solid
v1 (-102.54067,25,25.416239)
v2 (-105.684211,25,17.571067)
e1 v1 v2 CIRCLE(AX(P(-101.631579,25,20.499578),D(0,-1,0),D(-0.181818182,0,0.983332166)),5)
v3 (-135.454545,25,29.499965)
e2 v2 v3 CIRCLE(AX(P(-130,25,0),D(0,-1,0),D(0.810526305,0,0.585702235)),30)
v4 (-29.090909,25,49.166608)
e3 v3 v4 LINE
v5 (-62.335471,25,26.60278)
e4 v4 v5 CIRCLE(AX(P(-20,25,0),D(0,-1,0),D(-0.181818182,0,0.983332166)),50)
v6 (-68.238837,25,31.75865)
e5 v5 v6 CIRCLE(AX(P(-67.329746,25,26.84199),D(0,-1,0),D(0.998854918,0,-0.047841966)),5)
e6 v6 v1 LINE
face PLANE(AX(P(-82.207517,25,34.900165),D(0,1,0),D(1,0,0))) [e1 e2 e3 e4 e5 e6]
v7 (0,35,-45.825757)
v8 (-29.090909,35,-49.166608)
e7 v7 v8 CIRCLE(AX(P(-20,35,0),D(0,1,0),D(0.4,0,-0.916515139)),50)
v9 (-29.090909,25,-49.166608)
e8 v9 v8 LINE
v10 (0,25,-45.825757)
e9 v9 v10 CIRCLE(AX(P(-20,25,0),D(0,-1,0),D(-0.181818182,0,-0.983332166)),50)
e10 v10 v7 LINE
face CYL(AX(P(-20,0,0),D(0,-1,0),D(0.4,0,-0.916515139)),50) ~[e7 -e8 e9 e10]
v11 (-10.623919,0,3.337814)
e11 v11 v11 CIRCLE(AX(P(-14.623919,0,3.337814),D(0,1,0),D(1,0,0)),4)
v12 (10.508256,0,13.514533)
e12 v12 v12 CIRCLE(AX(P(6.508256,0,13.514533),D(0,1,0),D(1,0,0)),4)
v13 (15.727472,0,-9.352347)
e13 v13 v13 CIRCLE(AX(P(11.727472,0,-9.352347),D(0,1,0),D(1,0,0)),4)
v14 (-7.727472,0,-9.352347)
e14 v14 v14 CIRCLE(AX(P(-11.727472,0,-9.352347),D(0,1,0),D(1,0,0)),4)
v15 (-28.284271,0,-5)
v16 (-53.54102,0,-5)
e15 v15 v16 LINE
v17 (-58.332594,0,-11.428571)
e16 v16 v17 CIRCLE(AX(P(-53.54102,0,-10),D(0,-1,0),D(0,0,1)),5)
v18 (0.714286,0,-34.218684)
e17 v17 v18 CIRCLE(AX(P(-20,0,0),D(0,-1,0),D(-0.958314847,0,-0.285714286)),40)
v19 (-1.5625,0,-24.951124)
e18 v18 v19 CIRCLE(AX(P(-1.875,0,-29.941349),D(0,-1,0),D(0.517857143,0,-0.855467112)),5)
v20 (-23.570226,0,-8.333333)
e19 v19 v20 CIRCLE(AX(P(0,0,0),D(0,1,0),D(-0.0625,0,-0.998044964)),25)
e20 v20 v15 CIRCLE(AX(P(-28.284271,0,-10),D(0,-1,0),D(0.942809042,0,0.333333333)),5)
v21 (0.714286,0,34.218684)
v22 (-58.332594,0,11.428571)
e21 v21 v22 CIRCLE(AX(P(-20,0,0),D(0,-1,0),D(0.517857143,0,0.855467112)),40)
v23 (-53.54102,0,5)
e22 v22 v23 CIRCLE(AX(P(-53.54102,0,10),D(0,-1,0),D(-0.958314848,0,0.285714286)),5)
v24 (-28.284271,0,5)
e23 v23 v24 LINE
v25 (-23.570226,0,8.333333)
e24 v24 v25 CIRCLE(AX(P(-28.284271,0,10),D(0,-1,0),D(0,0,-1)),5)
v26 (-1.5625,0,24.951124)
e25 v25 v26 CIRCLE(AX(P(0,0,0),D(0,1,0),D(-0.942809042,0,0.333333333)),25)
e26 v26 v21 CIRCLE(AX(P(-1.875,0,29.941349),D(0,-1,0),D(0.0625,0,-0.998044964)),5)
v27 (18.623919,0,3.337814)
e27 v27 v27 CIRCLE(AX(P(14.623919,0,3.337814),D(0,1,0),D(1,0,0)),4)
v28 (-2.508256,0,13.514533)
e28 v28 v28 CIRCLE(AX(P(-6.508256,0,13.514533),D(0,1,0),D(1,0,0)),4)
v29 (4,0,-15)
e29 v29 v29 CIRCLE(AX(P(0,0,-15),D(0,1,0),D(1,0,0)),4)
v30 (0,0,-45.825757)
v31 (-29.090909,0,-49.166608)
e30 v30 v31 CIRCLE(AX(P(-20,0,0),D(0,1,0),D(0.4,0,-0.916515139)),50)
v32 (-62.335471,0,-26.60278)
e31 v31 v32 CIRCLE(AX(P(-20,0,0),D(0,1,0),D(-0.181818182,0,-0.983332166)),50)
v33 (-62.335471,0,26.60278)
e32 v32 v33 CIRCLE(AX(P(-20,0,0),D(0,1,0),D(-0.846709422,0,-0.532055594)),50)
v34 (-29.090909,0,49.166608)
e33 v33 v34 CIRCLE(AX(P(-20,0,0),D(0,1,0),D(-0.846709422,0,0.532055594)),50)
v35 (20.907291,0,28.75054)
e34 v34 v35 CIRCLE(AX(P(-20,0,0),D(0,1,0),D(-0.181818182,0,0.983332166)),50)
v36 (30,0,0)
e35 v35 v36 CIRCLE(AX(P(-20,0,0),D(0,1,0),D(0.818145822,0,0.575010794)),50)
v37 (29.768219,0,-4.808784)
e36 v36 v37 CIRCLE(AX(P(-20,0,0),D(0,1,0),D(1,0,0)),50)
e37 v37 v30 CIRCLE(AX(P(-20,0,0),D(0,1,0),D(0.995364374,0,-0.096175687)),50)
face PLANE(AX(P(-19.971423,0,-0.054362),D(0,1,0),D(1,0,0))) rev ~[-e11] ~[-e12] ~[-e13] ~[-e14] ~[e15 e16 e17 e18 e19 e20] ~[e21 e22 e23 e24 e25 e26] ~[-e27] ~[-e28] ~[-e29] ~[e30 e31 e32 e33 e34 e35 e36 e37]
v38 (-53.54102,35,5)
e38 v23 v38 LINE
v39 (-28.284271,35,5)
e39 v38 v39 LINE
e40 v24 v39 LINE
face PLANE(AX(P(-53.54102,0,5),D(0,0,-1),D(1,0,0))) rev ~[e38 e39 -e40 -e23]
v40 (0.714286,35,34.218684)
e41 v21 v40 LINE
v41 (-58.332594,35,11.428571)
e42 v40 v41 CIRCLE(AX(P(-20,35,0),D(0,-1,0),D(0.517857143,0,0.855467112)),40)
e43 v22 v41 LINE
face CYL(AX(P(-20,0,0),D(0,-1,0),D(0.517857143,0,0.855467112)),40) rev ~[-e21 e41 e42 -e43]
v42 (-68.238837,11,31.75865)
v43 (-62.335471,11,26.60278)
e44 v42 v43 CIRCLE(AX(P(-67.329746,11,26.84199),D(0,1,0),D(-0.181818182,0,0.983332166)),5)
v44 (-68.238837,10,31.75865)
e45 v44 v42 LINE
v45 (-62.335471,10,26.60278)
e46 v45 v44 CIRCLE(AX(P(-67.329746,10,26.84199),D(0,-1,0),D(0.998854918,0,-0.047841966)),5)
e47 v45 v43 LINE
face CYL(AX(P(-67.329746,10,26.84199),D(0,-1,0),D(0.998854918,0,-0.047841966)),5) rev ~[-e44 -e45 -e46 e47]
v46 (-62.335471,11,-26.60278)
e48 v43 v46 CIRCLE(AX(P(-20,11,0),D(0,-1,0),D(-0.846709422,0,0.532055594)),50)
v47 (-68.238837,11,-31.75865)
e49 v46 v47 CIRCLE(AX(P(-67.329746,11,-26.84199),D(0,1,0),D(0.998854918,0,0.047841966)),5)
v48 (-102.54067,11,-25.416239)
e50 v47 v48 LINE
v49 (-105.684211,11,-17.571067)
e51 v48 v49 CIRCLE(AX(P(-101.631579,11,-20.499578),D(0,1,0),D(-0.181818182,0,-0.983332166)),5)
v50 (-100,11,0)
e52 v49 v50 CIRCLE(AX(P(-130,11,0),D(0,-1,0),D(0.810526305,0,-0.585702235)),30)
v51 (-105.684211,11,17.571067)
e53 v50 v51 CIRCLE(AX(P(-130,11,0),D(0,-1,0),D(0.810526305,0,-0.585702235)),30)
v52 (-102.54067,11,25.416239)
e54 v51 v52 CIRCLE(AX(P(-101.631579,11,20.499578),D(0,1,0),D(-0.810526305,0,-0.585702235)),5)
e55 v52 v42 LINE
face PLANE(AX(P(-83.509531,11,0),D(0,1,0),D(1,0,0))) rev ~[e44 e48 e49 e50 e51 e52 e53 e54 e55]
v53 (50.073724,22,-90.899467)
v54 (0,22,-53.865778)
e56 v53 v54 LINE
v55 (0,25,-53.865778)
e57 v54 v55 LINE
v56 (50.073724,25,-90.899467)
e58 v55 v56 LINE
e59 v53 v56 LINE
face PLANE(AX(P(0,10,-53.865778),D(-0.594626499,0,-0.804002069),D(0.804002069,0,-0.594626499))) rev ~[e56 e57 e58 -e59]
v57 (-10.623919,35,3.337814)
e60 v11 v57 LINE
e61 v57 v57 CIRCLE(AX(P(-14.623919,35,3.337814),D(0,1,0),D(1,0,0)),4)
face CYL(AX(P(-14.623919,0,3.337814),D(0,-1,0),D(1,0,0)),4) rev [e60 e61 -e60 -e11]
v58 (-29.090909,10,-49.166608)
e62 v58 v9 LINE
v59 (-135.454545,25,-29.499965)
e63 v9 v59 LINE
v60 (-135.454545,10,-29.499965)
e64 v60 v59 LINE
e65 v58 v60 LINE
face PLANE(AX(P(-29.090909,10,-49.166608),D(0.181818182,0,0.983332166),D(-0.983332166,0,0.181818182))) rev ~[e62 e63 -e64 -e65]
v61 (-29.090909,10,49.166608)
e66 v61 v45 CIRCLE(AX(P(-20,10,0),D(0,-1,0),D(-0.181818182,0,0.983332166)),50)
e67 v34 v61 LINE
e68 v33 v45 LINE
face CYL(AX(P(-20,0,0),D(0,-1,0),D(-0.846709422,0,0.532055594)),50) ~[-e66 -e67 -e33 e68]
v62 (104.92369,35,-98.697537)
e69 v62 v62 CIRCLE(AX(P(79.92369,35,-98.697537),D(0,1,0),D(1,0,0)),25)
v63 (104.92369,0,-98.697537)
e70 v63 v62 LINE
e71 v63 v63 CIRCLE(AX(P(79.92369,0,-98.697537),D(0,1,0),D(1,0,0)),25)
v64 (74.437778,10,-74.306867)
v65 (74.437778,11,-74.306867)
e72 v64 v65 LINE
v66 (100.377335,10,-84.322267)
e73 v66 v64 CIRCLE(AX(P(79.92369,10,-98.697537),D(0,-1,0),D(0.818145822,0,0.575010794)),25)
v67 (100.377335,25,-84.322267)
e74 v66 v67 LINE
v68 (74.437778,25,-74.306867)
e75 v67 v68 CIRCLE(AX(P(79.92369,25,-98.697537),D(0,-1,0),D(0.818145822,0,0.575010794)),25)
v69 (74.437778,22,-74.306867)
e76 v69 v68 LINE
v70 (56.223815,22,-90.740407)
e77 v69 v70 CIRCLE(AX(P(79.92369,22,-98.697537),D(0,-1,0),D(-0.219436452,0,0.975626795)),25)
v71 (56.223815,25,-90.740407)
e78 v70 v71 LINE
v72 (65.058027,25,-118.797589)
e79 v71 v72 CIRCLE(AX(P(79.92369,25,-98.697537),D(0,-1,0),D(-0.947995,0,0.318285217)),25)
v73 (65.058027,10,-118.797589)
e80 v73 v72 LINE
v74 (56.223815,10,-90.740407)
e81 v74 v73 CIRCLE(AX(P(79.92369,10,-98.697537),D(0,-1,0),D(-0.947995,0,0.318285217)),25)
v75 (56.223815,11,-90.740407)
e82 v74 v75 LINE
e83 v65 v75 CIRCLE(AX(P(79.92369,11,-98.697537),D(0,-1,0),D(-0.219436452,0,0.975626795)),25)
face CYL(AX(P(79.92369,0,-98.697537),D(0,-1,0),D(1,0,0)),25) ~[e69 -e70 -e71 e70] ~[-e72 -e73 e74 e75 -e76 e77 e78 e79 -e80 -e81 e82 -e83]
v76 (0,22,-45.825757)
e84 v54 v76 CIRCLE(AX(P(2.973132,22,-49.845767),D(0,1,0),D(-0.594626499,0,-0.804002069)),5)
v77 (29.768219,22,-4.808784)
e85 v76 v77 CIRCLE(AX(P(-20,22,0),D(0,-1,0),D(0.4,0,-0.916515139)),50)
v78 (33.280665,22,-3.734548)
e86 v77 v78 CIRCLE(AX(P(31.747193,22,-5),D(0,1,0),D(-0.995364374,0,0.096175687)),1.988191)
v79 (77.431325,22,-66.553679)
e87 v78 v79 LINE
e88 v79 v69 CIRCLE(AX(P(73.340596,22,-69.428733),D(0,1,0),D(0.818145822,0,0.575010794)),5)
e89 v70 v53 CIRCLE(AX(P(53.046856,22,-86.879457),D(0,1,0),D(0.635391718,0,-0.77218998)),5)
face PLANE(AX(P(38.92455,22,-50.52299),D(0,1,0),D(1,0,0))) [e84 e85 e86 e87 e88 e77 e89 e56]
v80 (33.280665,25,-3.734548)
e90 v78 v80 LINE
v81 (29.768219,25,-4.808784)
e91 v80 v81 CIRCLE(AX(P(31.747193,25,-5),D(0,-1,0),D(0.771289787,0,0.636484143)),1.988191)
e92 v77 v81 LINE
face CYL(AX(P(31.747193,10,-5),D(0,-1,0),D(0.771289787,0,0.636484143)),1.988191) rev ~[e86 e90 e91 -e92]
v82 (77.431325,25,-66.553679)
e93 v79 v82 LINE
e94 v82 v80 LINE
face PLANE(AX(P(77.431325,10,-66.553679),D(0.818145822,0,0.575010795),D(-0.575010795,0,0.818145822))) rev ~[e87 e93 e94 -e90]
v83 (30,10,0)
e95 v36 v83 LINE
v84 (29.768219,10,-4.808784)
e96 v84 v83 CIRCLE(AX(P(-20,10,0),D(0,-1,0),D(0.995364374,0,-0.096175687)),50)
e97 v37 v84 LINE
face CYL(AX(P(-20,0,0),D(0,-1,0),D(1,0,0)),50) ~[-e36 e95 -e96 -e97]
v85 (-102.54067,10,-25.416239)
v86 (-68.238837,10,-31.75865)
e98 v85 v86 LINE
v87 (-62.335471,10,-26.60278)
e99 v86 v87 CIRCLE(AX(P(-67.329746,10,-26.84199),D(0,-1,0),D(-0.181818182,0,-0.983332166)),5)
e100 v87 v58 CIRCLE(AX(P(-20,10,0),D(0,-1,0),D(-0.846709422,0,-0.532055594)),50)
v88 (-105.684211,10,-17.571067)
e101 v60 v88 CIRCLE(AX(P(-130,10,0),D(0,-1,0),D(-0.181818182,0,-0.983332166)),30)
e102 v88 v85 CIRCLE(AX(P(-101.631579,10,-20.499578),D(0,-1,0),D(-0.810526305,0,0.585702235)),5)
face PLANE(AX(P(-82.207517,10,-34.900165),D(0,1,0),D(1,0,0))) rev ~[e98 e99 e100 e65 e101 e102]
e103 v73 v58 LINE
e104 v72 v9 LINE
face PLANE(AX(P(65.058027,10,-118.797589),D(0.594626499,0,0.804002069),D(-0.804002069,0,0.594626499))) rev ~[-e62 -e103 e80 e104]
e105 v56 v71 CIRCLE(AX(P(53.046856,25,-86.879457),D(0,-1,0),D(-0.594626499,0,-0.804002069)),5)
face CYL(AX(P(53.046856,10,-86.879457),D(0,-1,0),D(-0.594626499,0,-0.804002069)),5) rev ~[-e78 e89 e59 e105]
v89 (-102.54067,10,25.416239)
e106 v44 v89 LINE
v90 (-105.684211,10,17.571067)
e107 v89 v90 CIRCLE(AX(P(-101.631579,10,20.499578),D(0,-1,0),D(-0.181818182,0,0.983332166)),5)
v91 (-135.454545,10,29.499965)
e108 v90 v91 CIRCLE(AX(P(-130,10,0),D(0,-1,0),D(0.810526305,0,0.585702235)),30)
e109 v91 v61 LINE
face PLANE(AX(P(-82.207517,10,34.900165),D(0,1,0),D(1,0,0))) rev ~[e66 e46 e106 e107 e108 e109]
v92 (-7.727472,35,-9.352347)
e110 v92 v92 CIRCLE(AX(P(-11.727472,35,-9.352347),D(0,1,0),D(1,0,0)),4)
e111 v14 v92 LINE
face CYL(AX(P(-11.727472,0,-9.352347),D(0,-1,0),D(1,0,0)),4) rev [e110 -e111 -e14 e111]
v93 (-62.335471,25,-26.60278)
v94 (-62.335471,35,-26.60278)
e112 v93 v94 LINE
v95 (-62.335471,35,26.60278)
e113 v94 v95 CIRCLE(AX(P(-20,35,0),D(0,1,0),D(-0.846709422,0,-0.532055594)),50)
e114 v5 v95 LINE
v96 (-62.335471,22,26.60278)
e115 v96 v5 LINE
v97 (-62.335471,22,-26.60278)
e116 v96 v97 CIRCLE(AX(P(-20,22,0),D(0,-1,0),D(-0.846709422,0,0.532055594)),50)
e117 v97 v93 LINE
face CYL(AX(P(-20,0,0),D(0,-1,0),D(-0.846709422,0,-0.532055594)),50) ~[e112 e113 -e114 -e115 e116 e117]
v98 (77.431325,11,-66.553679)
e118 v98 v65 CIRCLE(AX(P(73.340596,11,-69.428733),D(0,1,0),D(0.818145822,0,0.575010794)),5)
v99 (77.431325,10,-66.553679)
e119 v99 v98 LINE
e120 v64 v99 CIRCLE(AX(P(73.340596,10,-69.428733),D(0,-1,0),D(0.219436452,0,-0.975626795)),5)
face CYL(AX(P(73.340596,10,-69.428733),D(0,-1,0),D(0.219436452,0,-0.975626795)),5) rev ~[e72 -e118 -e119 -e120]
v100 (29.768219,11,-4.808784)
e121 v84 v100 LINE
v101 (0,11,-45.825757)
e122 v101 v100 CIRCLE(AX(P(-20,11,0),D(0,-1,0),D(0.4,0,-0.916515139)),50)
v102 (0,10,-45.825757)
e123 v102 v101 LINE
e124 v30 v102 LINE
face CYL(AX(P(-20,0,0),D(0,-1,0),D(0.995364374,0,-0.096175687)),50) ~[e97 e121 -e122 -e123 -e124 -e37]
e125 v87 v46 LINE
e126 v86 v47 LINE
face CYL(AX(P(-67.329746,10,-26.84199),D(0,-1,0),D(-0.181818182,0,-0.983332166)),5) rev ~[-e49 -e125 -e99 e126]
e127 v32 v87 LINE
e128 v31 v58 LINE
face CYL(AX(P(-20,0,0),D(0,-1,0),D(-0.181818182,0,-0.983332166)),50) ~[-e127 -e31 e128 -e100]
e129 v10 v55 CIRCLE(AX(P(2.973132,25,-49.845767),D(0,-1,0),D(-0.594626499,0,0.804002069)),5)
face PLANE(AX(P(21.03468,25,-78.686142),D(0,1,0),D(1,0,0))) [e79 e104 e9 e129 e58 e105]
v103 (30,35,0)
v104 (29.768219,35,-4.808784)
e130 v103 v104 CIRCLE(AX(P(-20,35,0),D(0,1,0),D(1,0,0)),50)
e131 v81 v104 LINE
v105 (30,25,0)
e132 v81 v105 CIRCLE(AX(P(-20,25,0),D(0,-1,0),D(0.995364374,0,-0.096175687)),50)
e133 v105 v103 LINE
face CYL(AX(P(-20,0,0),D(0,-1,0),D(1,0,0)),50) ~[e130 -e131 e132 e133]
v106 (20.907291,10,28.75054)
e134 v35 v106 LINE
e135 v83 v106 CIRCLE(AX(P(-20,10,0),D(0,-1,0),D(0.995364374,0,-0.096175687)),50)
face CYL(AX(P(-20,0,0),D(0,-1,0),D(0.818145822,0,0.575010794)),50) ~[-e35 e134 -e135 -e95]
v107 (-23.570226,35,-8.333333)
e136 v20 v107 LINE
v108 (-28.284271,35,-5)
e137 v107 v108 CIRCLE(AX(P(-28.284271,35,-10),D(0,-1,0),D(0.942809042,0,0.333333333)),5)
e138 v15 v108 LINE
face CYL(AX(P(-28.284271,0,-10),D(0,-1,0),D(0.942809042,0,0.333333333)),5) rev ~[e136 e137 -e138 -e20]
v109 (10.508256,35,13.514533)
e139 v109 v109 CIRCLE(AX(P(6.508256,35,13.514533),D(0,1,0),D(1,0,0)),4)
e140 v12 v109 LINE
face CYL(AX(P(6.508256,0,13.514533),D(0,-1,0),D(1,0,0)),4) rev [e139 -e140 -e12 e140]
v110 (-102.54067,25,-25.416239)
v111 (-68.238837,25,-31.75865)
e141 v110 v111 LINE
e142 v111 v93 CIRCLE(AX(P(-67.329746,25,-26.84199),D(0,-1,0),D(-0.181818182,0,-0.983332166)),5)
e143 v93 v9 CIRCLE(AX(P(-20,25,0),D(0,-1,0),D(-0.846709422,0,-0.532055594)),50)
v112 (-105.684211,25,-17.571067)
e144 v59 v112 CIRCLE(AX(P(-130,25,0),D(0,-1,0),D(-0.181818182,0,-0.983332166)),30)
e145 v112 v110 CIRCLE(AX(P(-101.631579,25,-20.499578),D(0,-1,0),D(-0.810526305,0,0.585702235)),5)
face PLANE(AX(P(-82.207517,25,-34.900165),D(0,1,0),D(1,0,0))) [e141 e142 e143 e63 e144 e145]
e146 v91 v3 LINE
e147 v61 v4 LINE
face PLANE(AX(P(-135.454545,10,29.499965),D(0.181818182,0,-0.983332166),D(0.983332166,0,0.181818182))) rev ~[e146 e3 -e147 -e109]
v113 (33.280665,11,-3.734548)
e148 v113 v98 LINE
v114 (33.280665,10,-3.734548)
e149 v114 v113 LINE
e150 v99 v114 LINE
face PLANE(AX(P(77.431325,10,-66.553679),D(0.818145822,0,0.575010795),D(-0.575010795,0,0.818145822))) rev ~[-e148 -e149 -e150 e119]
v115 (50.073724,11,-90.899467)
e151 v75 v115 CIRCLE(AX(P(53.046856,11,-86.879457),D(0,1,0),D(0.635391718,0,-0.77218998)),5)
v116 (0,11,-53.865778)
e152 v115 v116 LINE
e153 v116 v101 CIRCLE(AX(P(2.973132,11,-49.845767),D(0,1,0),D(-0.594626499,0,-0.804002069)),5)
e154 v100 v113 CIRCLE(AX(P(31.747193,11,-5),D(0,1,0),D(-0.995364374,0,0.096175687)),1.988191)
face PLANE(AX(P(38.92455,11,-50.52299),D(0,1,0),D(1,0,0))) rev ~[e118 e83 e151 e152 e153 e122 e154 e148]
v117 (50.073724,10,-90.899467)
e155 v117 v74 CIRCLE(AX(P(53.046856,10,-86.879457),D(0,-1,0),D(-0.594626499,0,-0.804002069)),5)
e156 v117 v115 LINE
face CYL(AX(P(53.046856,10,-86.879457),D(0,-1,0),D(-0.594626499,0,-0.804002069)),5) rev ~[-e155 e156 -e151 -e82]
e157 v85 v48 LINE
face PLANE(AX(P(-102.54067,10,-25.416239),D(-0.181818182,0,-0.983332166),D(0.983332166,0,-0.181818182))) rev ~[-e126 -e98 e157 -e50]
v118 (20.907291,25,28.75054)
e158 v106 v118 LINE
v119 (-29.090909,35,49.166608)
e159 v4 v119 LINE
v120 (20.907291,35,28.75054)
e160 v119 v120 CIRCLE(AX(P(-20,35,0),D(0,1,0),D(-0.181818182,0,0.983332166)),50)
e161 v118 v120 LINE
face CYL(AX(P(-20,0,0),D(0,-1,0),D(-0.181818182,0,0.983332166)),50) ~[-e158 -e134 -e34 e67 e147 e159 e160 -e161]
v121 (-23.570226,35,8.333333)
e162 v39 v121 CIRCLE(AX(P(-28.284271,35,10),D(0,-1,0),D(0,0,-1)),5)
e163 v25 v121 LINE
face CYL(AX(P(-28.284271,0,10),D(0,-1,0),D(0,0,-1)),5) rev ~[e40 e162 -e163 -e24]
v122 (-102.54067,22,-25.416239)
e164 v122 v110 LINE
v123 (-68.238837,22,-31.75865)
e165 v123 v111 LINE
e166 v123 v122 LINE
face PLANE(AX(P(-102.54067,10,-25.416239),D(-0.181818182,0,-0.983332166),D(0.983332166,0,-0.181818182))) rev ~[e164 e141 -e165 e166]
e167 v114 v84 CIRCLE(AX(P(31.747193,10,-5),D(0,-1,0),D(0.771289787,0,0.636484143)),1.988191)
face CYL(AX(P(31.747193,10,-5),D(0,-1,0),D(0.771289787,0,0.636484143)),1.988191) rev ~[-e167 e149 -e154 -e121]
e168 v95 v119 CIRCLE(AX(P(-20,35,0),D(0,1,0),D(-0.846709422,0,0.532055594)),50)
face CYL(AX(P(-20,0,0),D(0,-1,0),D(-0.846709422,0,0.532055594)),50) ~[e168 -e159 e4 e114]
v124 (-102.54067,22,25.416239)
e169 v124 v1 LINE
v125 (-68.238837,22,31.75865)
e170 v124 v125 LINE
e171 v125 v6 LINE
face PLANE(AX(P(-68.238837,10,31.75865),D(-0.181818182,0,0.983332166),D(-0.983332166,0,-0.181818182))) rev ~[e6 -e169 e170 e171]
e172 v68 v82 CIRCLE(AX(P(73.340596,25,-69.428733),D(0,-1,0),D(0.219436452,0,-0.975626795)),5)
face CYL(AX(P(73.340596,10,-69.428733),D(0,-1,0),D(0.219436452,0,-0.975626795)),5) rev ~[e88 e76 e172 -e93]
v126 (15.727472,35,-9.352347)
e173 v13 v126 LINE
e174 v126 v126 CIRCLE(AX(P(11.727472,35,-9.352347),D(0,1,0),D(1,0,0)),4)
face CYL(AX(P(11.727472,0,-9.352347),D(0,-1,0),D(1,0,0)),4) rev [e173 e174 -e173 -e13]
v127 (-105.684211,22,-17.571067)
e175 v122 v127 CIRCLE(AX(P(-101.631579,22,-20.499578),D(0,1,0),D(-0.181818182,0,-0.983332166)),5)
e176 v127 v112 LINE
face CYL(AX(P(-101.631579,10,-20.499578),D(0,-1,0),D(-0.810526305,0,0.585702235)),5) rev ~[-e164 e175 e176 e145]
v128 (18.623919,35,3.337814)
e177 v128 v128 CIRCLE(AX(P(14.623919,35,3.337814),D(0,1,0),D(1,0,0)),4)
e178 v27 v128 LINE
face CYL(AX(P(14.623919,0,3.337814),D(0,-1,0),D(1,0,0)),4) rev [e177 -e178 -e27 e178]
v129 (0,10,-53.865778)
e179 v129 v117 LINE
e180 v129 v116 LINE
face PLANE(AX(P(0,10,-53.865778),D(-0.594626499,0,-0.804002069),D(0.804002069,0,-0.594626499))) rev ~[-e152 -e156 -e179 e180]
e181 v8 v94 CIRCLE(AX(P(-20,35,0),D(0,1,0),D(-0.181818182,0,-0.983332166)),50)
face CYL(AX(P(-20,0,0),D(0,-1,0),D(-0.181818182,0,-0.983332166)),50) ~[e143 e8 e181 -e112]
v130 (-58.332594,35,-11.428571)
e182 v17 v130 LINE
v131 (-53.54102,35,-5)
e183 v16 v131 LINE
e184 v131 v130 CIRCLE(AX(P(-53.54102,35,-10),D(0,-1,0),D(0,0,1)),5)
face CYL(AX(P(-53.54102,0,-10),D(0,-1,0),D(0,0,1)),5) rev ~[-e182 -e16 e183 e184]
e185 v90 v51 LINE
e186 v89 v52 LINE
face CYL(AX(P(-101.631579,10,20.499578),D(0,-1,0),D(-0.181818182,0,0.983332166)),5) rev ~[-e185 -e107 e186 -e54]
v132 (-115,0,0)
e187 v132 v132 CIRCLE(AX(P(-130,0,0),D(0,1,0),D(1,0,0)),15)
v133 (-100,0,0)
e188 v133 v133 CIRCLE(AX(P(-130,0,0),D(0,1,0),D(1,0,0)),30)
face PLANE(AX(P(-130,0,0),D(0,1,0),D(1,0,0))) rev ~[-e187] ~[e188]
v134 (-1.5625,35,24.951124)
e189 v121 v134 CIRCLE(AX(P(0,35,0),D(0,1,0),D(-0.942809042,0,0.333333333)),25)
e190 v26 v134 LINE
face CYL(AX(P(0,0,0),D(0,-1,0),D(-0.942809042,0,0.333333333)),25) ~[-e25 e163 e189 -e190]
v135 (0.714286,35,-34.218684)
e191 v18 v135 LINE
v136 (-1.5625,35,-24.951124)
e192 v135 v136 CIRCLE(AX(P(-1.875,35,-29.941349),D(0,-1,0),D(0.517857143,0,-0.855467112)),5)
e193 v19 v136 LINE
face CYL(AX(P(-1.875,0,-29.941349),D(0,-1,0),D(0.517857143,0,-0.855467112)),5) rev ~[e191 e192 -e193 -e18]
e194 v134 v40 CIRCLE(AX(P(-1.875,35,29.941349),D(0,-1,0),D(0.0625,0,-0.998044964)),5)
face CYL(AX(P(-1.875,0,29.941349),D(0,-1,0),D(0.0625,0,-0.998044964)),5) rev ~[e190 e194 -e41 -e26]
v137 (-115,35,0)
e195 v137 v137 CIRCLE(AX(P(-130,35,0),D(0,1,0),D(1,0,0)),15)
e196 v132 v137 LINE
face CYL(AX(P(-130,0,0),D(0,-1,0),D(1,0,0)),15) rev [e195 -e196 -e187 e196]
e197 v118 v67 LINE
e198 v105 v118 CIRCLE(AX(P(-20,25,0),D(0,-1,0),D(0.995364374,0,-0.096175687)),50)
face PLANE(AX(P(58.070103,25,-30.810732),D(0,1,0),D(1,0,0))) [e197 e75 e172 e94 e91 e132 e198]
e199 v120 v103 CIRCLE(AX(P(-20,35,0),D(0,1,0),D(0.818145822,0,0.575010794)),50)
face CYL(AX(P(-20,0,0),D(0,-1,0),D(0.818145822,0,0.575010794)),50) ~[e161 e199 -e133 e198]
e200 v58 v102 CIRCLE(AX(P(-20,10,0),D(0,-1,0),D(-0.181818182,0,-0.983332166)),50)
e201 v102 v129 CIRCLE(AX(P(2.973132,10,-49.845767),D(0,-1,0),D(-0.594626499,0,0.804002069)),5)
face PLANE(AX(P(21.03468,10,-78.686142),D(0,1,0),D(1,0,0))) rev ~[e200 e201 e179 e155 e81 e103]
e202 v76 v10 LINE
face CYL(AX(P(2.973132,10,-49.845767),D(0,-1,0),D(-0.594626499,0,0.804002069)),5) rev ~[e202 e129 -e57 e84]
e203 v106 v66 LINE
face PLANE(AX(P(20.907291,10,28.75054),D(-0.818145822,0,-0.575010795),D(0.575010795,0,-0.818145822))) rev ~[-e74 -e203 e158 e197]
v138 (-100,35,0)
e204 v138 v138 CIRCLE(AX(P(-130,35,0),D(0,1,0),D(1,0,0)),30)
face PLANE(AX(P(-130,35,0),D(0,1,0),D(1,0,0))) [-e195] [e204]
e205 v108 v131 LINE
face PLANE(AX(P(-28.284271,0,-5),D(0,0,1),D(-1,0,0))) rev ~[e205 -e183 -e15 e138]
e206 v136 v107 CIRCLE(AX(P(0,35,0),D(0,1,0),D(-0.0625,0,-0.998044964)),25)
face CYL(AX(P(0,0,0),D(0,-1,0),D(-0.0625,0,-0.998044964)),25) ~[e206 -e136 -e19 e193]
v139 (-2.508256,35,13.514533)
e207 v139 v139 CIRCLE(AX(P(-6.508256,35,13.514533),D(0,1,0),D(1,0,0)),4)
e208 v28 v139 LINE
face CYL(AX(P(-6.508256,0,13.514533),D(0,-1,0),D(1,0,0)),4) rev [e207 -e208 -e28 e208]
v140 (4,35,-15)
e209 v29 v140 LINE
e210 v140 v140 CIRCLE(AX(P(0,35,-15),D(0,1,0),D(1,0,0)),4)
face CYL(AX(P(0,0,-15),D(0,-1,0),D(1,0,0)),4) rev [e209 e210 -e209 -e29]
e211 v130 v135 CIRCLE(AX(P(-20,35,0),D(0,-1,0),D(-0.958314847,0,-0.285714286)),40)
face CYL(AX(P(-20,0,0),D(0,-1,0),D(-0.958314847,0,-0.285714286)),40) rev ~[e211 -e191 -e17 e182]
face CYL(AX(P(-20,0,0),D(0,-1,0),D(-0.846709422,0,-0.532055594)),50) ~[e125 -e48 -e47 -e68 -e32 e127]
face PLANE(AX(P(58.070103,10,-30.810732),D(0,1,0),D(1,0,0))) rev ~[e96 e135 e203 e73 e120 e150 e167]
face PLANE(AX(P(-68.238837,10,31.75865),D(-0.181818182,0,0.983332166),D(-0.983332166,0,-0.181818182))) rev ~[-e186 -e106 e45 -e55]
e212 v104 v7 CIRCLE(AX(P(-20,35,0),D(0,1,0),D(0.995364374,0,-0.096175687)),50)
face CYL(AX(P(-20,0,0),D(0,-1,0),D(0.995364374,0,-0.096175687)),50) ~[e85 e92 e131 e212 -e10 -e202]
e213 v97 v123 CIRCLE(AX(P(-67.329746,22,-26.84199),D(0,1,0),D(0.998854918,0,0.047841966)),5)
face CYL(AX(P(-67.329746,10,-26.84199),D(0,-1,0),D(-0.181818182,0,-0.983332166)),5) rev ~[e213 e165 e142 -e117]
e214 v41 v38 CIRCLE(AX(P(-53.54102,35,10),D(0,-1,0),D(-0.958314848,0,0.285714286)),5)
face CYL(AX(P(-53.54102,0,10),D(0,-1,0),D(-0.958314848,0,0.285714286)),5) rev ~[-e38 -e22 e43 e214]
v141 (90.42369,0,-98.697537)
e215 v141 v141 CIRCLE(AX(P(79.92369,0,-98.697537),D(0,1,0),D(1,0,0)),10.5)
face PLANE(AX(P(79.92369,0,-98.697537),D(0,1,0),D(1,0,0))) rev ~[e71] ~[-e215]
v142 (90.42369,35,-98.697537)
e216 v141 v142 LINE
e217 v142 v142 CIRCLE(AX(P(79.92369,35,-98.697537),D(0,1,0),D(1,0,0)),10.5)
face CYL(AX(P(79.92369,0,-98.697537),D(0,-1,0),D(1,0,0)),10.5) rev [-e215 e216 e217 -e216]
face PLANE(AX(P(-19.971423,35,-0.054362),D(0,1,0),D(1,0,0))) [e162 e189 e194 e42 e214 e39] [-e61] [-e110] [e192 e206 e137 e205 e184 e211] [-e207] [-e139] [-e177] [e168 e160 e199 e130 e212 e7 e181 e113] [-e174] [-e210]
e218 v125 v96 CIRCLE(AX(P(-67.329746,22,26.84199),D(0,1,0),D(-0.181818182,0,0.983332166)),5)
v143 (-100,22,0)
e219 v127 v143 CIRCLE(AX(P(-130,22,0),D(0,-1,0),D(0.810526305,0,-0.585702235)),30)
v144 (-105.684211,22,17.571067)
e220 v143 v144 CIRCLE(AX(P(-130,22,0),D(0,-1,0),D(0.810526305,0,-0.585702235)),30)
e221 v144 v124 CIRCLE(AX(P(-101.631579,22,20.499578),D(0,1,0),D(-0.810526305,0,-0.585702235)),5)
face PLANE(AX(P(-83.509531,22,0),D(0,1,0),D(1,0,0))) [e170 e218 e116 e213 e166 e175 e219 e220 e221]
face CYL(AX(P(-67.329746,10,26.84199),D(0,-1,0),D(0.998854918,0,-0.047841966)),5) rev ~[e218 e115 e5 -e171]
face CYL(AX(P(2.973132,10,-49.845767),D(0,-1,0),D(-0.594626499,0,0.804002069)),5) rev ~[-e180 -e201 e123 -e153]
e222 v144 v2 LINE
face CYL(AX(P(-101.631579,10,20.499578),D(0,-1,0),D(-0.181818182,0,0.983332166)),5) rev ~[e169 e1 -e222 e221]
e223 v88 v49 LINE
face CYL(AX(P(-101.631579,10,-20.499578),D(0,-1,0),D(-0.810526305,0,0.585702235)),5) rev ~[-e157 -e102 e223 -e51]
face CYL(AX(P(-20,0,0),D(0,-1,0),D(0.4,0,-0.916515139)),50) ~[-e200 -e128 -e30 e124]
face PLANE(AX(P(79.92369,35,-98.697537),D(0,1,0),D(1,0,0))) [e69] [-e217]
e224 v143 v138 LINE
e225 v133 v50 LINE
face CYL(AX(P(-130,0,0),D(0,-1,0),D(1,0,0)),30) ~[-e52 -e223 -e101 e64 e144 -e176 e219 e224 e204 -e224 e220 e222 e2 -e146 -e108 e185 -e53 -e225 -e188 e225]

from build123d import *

# Parameters (mm, degrees)
SKETCH1_R             = 22
SKETCH1_R_2           = 4
BOSS_EXTRUDE1_DEPTH   = 35
BOSS_EXTRUDE2_START   = 10
BOSS_EXTRUDE2_DEPTH   = 15
BOSS_EXTRUDE2_2_DEPTH = 15
BOSS_EXTRUDE2_3_DEPTH = 15
BOSS_EXTRUDE2_4_DEPTH = 15
SKETCH1_4_R           = 30
SKETCH1_4_R_2         = 15
SKETCH1_4_R_3         = 25
SKETCH1_4_R_4         = 10.5
BOSS_EXTRUDE3_DEPTH   = 35
BOSS_EXTRUDE5_START   = 11
BOSS_EXTRUDE5_DEPTH   = 11
SKETCH1_7_R           = 22
BOSS_EXTRUDE6_DEPTH   = 35


with BuildPart() as part:
    # Sketch1 → Boss-Extrude1 (new body)
    with BuildSketch(Plane(origin=(0, 0, 0), x_dir=(1, 0, 0), z_dir=(0, 1, 0))):
        Circle(SKETCH1_R)
        with Locations((-6.508256087, -13.514533019)):
            Circle(SKETCH1_R_2, mode=Mode.SUBTRACT)
        with Locations((6.508256087, -13.514533019)):
            Circle(SKETCH1_R_2, mode=Mode.SUBTRACT)
        with Locations((-14.623918683, -3.337814009)):
            Circle(SKETCH1_R_2, mode=Mode.SUBTRACT)
        with Locations((-11.727472237, 9.352347028)):
            Circle(SKETCH1_R_2, mode=Mode.SUBTRACT)
        with Locations((0, 15)):
            Circle(SKETCH1_R_2, mode=Mode.SUBTRACT)
        with Locations((14.623918683, -3.337814009)):
            Circle(SKETCH1_R_2, mode=Mode.SUBTRACT)
        with Locations((11.727472237, 9.352347028)):
            Circle(SKETCH1_R_2, mode=Mode.SUBTRACT)
    extrude(amount=BOSS_EXTRUDE1_DEPTH)



with BuildPart() as body_2:
    # Sketch1<3> → Boss-Extrude2 (new body)
    with BuildSketch(Plane(origin=(0, 0, 0), x_dir=(1, 0, 0), z_dir=(0, 1, 0)).offset(BOSS_EXTRUDE2_START)):
        with BuildLine():
            Line((-29.090909091, 49.166608302), (-135.454545455, 29.499964981))
            ThreePointArc((-135.454545455, 29.499964981), (-118.841537744, 27.847598103), (-105.684210842, 17.57106706))
            ThreePointArc((-105.684210842, 17.57106706), (-106.272845666, 22.359321946), (-102.540670225, 25.416239066))
            Line((-102.540670225, 25.416239066), (-68.238836594, 31.758650348))
            ThreePointArc((-68.238836594, 31.758650348), (-64.040683205, 30.607898174), (-62.335471097, 26.602779686))
            ThreePointArc((-62.335471097, 26.602779686), (-48.07934713, 41.370886681), (-29.090909091, 49.166608302))
        make_face()
    extrude(amount=BOSS_EXTRUDE2_DEPTH)



with BuildPart() as body_3:
    # Sketch1<3> → Boss-Extrude2 2 (new body)
    with BuildSketch(Plane(origin=(0, 0, 0), x_dir=(1, 0, 0), z_dir=(0, 1, 0)).offset(BOSS_EXTRUDE2_START)):
        with BuildLine():
            Line((65.058027183, 118.797588822), (-29.090909091, 49.166608302))
            ThreePointArc((-29.090909091, 49.166608302), (-14.295406408, 49.673510163), (0, 45.82575695))
            ThreePointArc((0, 45.82575695), (-2.026867504, 49.845767293), (0, 53.865777636))
            Line((0, 53.865777636), (50.073723573, 90.899467114))
            ThreePointArc((50.073723573, 90.899467114), (53.176128361, 91.877785359), (56.223814659, 90.740406669))
            ThreePointArc((56.223814659, 90.740406669), (56.077798236, 106.205763396), (65.058027183, 118.797588822))
        make_face()
    extrude(amount=BOSS_EXTRUDE2_2_DEPTH)


with BuildPart() as body_4:
    # Sketch1<3> → Boss-Extrude2 3 (new body)
    with BuildSketch(Plane(origin=(0, 0, 0), x_dir=(1, 0, 0), z_dir=(0, 1, 0)).offset(BOSS_EXTRUDE2_START)):
        with BuildLine():
            ThreePointArc((-105.684210842, -17.57106706), (-118.841537744, -27.847598103), (-135.454545455, -29.499964981))
            Line((-135.454545455, -29.499964981), (-29.090909091, -49.166608302))
            ThreePointArc((-29.090909091, -49.166608302), (-48.07934713, -41.370886681), (-62.335471097, -26.602779686))
            ThreePointArc((-62.335471097, -26.602779686), (-64.040683205, -30.607898174), (-68.238836594, -31.758650348))
            Line((-68.238836594, -31.758650348), (-102.540670225, -25.416239066))
            ThreePointArc((-102.540670225, -25.416239066), (-106.272845666, -22.359321946), (-105.684210842, -17.57106706))
        make_face()
    extrude(amount=BOSS_EXTRUDE2_3_DEPTH)


with BuildPart() as body_5:
    # Sketch1<3> → Boss-Extrude2 4 (new body)
    with BuildSketch(Plane(origin=(0, 0, 0), x_dir=(1, 0, 0), z_dir=(0, 1, 0)).offset(BOSS_EXTRUDE2_START)):
        with BuildLine():
            ThreePointArc((33.280664522, 3.734547986), (31.165717268, 3.098740137), (29.768218703, 4.808784369))
            ThreePointArc((29.768218703, 4.808784369), (28.343242321, -12.76443974), (20.907291105, -28.750539725))
            Line((20.907291105, -28.750539725), (100.377335216, 84.322267243))
            ThreePointArc((100.377335216, 84.322267243), (88.928428781, 75.375558771), (74.437778368, 74.306867224))
            ThreePointArc((74.437778368, 74.306867224), (78.004991776, 71.229681071), (77.43132522, 66.553679275))
            Line((77.43132522, 66.553679275), (33.280664522, 3.734547986))
        make_face()
    extrude(amount=BOSS_EXTRUDE2_4_DEPTH)


with BuildPart() as body_2_1:
    add(body_2.part)

    add(body_3.part)  # Boss-Extrude3 merges body 3

    add(body_4.part)  # Boss-Extrude3 merges body 4

    add(body_5.part)  # Boss-Extrude3 merges body 5
    # Sketch1<4> → Boss-Extrude3 (add)
    # profile 1 of 2: a face of its own
    with BuildSketch(Plane(origin=(0, 0, 0), x_dir=(1, 0, 0), z_dir=(0, 1, 0))):
        with Locations((-130, 0)):
            Circle(SKETCH1_4_R)
        with Locations((-130, 0)):
            Circle(SKETCH1_4_R_2, mode=Mode.SUBTRACT)
    # profile 2 of 2: a face of its own
    with BuildSketch(Plane(origin=(0, 0, 0), x_dir=(1, 0, 0), z_dir=(0, 1, 0))):
        with Locations((79.923689663, 98.697537105)):
            Circle(SKETCH1_4_R_3)
        with Locations((79.923689663, 98.697537105)):
            Circle(SKETCH1_4_R_4, mode=Mode.SUBTRACT)
    extrude(amount=BOSS_EXTRUDE3_DEPTH)

    # Sketch1<6> → Boss-Extrude5 (add)
    with BuildSketch(Plane(origin=(0, 0, 0), x_dir=(1, 0, 0), z_dir=(0, 1, 0)).offset(BOSS_EXTRUDE5_START)):
        with BuildLine():
            ThreePointArc((-102.540670225, 25.416239066), (-106.272845666, 22.359321946), (-105.684210842, 17.57106706))
            ThreePointArc((-105.684210842, 17.57106706), (-100, 0), (-105.684210842, -17.57106706))
            ThreePointArc((-105.684210842, -17.57106706), (-106.272845666, -22.359321946), (-102.540670225, -25.416239066))
            Line((-102.540670225, -25.416239066), (-68.238836594, -31.758650348))
            ThreePointArc((-68.238836594, -31.758650348), (-64.040683205, -30.607898174), (-62.335471097, -26.602779686))
            ThreePointArc((-62.335471097, -26.602779686), (-70, 0), (-62.335471097, 26.602779686))
            ThreePointArc((-62.335471097, 26.602779686), (-64.040683205, 30.607898174), (-68.238836594, 31.758650348))
            Line((-68.238836594, 31.758650348), (-102.540670225, 25.416239066))
        make_face()
        with BuildLine():
            ThreePointArc((0, 53.865777636), (-2.026867504, 49.845767293), (0, 45.82575695))
            ThreePointArc((0, 45.82575695), (20.466023961, 29.368365716), (29.768218703, 4.808784369))
            ThreePointArc((29.768218703, 4.808784369), (31.165717268, 3.098740137), (33.280664522, 3.734547986))
            Line((33.280664522, 3.734547986), (77.43132522, 66.553679275))
            ThreePointArc((77.43132522, 66.553679275), (78.004991776, 71.229681071), (74.437778368, 74.306867224))
            ThreePointArc((74.437778368, 74.306867224), (63.176515718, 80.135959455), (56.223814659, 90.740406669))
            ThreePointArc((56.223814659, 90.740406669), (53.176128361, 91.877785359), (50.073723573, 90.899467114))
            Line((50.073723573, 90.899467114), (0, 53.865777636))
        make_face()
    extrude(amount=BOSS_EXTRUDE5_DEPTH)


with BuildPart() as part_1:
    add(part.part)

    add(body_2_1.part)  # Boss-Extrude6 merges body 2
    # Sketch1<7> → Boss-Extrude6 (add)
    with BuildSketch(Plane(origin=(0, 0, 0), x_dir=(1, 0, 0), z_dir=(0, 1, 0))):
        with BuildLine():
            ThreePointArc((0, 45.82575695), (-14.295406408, 49.673510163), (-29.090909091, 49.166608302))
            ThreePointArc((-29.090909091, 49.166608302), (-48.07934713, 41.370886681), (-62.335471097, 26.602779686))
            ThreePointArc((-62.335471097, 26.602779686), (-70, 0), (-62.335471097, -26.602779686))
            ThreePointArc((-62.335471097, -26.602779686), (-48.07934713, -41.370886681), (-29.090909091, -49.166608302))
            ThreePointArc((-29.090909091, -49.166608302), (-1.098293592, -46.289583006), (20.907291105, -28.750539725))
            ThreePointArc((20.907291105, -28.750539725), (27.672657547, -15.077059474), (30, 0))
            ThreePointArc((30, 0), (29.94202106, 2.407183503), (29.768218703, 4.808784369))
            ThreePointArc((29.768218703, 4.808784369), (20.466023961, 29.368365716), (0, 45.82575695))
        make_face()
        with BuildLine():
            ThreePointArc((-58.3325939, -11.428571429), (-57.549938291, -7.011928477), (-53.541019662, -5))
            Line((-53.541019662, -5), (-28.284271247, -5))
            ThreePointArc((-28.284271247, -5), (-25.397519902, -5.917517095), (-23.57022604, -8.333333333))
            ThreePointArc((-23.57022604, -8.333333333), (-15.064900332, -19.951159815), (-1.5625, -24.951124098))
            ThreePointArc((-1.5625, -24.951124098), (2.980616225, -28.748457023), (0.714285714, -34.218684477))
            ThreePointArc((0.714285714, -34.218684477), (-34.403072902, -37.316906235), (-58.3325939, -11.428571429))
        make_face(mode=Mode.SUBTRACT)
        with BuildLine():
            Line((-28.284271247, 5), (-53.541019662, 5))
            ThreePointArc((-53.541019662, 5), (-57.549938291, 7.011928477), (-58.3325939, 11.428571429))
            ThreePointArc((-58.3325939, 11.428571429), (-34.403072902, 37.316906235), (0.714285714, 34.218684477))
            ThreePointArc((0.714285714, 34.218684477), (2.980616225, 28.748457023), (-1.5625, 24.951124098))
            ThreePointArc((-1.5625, 24.951124098), (-15.064900332, 19.951159815), (-23.57022604, 8.333333333))
            ThreePointArc((-23.57022604, 8.333333333), (-25.397519902, 5.917517095), (-28.284271247, 5))
        make_face(mode=Mode.SUBTRACT)
        Circle(SKETCH1_7_R, mode=Mode.SUBTRACT)
    extrude(amount=BOSS_EXTRUDE6_DEPTH)


solid = part_1.part
